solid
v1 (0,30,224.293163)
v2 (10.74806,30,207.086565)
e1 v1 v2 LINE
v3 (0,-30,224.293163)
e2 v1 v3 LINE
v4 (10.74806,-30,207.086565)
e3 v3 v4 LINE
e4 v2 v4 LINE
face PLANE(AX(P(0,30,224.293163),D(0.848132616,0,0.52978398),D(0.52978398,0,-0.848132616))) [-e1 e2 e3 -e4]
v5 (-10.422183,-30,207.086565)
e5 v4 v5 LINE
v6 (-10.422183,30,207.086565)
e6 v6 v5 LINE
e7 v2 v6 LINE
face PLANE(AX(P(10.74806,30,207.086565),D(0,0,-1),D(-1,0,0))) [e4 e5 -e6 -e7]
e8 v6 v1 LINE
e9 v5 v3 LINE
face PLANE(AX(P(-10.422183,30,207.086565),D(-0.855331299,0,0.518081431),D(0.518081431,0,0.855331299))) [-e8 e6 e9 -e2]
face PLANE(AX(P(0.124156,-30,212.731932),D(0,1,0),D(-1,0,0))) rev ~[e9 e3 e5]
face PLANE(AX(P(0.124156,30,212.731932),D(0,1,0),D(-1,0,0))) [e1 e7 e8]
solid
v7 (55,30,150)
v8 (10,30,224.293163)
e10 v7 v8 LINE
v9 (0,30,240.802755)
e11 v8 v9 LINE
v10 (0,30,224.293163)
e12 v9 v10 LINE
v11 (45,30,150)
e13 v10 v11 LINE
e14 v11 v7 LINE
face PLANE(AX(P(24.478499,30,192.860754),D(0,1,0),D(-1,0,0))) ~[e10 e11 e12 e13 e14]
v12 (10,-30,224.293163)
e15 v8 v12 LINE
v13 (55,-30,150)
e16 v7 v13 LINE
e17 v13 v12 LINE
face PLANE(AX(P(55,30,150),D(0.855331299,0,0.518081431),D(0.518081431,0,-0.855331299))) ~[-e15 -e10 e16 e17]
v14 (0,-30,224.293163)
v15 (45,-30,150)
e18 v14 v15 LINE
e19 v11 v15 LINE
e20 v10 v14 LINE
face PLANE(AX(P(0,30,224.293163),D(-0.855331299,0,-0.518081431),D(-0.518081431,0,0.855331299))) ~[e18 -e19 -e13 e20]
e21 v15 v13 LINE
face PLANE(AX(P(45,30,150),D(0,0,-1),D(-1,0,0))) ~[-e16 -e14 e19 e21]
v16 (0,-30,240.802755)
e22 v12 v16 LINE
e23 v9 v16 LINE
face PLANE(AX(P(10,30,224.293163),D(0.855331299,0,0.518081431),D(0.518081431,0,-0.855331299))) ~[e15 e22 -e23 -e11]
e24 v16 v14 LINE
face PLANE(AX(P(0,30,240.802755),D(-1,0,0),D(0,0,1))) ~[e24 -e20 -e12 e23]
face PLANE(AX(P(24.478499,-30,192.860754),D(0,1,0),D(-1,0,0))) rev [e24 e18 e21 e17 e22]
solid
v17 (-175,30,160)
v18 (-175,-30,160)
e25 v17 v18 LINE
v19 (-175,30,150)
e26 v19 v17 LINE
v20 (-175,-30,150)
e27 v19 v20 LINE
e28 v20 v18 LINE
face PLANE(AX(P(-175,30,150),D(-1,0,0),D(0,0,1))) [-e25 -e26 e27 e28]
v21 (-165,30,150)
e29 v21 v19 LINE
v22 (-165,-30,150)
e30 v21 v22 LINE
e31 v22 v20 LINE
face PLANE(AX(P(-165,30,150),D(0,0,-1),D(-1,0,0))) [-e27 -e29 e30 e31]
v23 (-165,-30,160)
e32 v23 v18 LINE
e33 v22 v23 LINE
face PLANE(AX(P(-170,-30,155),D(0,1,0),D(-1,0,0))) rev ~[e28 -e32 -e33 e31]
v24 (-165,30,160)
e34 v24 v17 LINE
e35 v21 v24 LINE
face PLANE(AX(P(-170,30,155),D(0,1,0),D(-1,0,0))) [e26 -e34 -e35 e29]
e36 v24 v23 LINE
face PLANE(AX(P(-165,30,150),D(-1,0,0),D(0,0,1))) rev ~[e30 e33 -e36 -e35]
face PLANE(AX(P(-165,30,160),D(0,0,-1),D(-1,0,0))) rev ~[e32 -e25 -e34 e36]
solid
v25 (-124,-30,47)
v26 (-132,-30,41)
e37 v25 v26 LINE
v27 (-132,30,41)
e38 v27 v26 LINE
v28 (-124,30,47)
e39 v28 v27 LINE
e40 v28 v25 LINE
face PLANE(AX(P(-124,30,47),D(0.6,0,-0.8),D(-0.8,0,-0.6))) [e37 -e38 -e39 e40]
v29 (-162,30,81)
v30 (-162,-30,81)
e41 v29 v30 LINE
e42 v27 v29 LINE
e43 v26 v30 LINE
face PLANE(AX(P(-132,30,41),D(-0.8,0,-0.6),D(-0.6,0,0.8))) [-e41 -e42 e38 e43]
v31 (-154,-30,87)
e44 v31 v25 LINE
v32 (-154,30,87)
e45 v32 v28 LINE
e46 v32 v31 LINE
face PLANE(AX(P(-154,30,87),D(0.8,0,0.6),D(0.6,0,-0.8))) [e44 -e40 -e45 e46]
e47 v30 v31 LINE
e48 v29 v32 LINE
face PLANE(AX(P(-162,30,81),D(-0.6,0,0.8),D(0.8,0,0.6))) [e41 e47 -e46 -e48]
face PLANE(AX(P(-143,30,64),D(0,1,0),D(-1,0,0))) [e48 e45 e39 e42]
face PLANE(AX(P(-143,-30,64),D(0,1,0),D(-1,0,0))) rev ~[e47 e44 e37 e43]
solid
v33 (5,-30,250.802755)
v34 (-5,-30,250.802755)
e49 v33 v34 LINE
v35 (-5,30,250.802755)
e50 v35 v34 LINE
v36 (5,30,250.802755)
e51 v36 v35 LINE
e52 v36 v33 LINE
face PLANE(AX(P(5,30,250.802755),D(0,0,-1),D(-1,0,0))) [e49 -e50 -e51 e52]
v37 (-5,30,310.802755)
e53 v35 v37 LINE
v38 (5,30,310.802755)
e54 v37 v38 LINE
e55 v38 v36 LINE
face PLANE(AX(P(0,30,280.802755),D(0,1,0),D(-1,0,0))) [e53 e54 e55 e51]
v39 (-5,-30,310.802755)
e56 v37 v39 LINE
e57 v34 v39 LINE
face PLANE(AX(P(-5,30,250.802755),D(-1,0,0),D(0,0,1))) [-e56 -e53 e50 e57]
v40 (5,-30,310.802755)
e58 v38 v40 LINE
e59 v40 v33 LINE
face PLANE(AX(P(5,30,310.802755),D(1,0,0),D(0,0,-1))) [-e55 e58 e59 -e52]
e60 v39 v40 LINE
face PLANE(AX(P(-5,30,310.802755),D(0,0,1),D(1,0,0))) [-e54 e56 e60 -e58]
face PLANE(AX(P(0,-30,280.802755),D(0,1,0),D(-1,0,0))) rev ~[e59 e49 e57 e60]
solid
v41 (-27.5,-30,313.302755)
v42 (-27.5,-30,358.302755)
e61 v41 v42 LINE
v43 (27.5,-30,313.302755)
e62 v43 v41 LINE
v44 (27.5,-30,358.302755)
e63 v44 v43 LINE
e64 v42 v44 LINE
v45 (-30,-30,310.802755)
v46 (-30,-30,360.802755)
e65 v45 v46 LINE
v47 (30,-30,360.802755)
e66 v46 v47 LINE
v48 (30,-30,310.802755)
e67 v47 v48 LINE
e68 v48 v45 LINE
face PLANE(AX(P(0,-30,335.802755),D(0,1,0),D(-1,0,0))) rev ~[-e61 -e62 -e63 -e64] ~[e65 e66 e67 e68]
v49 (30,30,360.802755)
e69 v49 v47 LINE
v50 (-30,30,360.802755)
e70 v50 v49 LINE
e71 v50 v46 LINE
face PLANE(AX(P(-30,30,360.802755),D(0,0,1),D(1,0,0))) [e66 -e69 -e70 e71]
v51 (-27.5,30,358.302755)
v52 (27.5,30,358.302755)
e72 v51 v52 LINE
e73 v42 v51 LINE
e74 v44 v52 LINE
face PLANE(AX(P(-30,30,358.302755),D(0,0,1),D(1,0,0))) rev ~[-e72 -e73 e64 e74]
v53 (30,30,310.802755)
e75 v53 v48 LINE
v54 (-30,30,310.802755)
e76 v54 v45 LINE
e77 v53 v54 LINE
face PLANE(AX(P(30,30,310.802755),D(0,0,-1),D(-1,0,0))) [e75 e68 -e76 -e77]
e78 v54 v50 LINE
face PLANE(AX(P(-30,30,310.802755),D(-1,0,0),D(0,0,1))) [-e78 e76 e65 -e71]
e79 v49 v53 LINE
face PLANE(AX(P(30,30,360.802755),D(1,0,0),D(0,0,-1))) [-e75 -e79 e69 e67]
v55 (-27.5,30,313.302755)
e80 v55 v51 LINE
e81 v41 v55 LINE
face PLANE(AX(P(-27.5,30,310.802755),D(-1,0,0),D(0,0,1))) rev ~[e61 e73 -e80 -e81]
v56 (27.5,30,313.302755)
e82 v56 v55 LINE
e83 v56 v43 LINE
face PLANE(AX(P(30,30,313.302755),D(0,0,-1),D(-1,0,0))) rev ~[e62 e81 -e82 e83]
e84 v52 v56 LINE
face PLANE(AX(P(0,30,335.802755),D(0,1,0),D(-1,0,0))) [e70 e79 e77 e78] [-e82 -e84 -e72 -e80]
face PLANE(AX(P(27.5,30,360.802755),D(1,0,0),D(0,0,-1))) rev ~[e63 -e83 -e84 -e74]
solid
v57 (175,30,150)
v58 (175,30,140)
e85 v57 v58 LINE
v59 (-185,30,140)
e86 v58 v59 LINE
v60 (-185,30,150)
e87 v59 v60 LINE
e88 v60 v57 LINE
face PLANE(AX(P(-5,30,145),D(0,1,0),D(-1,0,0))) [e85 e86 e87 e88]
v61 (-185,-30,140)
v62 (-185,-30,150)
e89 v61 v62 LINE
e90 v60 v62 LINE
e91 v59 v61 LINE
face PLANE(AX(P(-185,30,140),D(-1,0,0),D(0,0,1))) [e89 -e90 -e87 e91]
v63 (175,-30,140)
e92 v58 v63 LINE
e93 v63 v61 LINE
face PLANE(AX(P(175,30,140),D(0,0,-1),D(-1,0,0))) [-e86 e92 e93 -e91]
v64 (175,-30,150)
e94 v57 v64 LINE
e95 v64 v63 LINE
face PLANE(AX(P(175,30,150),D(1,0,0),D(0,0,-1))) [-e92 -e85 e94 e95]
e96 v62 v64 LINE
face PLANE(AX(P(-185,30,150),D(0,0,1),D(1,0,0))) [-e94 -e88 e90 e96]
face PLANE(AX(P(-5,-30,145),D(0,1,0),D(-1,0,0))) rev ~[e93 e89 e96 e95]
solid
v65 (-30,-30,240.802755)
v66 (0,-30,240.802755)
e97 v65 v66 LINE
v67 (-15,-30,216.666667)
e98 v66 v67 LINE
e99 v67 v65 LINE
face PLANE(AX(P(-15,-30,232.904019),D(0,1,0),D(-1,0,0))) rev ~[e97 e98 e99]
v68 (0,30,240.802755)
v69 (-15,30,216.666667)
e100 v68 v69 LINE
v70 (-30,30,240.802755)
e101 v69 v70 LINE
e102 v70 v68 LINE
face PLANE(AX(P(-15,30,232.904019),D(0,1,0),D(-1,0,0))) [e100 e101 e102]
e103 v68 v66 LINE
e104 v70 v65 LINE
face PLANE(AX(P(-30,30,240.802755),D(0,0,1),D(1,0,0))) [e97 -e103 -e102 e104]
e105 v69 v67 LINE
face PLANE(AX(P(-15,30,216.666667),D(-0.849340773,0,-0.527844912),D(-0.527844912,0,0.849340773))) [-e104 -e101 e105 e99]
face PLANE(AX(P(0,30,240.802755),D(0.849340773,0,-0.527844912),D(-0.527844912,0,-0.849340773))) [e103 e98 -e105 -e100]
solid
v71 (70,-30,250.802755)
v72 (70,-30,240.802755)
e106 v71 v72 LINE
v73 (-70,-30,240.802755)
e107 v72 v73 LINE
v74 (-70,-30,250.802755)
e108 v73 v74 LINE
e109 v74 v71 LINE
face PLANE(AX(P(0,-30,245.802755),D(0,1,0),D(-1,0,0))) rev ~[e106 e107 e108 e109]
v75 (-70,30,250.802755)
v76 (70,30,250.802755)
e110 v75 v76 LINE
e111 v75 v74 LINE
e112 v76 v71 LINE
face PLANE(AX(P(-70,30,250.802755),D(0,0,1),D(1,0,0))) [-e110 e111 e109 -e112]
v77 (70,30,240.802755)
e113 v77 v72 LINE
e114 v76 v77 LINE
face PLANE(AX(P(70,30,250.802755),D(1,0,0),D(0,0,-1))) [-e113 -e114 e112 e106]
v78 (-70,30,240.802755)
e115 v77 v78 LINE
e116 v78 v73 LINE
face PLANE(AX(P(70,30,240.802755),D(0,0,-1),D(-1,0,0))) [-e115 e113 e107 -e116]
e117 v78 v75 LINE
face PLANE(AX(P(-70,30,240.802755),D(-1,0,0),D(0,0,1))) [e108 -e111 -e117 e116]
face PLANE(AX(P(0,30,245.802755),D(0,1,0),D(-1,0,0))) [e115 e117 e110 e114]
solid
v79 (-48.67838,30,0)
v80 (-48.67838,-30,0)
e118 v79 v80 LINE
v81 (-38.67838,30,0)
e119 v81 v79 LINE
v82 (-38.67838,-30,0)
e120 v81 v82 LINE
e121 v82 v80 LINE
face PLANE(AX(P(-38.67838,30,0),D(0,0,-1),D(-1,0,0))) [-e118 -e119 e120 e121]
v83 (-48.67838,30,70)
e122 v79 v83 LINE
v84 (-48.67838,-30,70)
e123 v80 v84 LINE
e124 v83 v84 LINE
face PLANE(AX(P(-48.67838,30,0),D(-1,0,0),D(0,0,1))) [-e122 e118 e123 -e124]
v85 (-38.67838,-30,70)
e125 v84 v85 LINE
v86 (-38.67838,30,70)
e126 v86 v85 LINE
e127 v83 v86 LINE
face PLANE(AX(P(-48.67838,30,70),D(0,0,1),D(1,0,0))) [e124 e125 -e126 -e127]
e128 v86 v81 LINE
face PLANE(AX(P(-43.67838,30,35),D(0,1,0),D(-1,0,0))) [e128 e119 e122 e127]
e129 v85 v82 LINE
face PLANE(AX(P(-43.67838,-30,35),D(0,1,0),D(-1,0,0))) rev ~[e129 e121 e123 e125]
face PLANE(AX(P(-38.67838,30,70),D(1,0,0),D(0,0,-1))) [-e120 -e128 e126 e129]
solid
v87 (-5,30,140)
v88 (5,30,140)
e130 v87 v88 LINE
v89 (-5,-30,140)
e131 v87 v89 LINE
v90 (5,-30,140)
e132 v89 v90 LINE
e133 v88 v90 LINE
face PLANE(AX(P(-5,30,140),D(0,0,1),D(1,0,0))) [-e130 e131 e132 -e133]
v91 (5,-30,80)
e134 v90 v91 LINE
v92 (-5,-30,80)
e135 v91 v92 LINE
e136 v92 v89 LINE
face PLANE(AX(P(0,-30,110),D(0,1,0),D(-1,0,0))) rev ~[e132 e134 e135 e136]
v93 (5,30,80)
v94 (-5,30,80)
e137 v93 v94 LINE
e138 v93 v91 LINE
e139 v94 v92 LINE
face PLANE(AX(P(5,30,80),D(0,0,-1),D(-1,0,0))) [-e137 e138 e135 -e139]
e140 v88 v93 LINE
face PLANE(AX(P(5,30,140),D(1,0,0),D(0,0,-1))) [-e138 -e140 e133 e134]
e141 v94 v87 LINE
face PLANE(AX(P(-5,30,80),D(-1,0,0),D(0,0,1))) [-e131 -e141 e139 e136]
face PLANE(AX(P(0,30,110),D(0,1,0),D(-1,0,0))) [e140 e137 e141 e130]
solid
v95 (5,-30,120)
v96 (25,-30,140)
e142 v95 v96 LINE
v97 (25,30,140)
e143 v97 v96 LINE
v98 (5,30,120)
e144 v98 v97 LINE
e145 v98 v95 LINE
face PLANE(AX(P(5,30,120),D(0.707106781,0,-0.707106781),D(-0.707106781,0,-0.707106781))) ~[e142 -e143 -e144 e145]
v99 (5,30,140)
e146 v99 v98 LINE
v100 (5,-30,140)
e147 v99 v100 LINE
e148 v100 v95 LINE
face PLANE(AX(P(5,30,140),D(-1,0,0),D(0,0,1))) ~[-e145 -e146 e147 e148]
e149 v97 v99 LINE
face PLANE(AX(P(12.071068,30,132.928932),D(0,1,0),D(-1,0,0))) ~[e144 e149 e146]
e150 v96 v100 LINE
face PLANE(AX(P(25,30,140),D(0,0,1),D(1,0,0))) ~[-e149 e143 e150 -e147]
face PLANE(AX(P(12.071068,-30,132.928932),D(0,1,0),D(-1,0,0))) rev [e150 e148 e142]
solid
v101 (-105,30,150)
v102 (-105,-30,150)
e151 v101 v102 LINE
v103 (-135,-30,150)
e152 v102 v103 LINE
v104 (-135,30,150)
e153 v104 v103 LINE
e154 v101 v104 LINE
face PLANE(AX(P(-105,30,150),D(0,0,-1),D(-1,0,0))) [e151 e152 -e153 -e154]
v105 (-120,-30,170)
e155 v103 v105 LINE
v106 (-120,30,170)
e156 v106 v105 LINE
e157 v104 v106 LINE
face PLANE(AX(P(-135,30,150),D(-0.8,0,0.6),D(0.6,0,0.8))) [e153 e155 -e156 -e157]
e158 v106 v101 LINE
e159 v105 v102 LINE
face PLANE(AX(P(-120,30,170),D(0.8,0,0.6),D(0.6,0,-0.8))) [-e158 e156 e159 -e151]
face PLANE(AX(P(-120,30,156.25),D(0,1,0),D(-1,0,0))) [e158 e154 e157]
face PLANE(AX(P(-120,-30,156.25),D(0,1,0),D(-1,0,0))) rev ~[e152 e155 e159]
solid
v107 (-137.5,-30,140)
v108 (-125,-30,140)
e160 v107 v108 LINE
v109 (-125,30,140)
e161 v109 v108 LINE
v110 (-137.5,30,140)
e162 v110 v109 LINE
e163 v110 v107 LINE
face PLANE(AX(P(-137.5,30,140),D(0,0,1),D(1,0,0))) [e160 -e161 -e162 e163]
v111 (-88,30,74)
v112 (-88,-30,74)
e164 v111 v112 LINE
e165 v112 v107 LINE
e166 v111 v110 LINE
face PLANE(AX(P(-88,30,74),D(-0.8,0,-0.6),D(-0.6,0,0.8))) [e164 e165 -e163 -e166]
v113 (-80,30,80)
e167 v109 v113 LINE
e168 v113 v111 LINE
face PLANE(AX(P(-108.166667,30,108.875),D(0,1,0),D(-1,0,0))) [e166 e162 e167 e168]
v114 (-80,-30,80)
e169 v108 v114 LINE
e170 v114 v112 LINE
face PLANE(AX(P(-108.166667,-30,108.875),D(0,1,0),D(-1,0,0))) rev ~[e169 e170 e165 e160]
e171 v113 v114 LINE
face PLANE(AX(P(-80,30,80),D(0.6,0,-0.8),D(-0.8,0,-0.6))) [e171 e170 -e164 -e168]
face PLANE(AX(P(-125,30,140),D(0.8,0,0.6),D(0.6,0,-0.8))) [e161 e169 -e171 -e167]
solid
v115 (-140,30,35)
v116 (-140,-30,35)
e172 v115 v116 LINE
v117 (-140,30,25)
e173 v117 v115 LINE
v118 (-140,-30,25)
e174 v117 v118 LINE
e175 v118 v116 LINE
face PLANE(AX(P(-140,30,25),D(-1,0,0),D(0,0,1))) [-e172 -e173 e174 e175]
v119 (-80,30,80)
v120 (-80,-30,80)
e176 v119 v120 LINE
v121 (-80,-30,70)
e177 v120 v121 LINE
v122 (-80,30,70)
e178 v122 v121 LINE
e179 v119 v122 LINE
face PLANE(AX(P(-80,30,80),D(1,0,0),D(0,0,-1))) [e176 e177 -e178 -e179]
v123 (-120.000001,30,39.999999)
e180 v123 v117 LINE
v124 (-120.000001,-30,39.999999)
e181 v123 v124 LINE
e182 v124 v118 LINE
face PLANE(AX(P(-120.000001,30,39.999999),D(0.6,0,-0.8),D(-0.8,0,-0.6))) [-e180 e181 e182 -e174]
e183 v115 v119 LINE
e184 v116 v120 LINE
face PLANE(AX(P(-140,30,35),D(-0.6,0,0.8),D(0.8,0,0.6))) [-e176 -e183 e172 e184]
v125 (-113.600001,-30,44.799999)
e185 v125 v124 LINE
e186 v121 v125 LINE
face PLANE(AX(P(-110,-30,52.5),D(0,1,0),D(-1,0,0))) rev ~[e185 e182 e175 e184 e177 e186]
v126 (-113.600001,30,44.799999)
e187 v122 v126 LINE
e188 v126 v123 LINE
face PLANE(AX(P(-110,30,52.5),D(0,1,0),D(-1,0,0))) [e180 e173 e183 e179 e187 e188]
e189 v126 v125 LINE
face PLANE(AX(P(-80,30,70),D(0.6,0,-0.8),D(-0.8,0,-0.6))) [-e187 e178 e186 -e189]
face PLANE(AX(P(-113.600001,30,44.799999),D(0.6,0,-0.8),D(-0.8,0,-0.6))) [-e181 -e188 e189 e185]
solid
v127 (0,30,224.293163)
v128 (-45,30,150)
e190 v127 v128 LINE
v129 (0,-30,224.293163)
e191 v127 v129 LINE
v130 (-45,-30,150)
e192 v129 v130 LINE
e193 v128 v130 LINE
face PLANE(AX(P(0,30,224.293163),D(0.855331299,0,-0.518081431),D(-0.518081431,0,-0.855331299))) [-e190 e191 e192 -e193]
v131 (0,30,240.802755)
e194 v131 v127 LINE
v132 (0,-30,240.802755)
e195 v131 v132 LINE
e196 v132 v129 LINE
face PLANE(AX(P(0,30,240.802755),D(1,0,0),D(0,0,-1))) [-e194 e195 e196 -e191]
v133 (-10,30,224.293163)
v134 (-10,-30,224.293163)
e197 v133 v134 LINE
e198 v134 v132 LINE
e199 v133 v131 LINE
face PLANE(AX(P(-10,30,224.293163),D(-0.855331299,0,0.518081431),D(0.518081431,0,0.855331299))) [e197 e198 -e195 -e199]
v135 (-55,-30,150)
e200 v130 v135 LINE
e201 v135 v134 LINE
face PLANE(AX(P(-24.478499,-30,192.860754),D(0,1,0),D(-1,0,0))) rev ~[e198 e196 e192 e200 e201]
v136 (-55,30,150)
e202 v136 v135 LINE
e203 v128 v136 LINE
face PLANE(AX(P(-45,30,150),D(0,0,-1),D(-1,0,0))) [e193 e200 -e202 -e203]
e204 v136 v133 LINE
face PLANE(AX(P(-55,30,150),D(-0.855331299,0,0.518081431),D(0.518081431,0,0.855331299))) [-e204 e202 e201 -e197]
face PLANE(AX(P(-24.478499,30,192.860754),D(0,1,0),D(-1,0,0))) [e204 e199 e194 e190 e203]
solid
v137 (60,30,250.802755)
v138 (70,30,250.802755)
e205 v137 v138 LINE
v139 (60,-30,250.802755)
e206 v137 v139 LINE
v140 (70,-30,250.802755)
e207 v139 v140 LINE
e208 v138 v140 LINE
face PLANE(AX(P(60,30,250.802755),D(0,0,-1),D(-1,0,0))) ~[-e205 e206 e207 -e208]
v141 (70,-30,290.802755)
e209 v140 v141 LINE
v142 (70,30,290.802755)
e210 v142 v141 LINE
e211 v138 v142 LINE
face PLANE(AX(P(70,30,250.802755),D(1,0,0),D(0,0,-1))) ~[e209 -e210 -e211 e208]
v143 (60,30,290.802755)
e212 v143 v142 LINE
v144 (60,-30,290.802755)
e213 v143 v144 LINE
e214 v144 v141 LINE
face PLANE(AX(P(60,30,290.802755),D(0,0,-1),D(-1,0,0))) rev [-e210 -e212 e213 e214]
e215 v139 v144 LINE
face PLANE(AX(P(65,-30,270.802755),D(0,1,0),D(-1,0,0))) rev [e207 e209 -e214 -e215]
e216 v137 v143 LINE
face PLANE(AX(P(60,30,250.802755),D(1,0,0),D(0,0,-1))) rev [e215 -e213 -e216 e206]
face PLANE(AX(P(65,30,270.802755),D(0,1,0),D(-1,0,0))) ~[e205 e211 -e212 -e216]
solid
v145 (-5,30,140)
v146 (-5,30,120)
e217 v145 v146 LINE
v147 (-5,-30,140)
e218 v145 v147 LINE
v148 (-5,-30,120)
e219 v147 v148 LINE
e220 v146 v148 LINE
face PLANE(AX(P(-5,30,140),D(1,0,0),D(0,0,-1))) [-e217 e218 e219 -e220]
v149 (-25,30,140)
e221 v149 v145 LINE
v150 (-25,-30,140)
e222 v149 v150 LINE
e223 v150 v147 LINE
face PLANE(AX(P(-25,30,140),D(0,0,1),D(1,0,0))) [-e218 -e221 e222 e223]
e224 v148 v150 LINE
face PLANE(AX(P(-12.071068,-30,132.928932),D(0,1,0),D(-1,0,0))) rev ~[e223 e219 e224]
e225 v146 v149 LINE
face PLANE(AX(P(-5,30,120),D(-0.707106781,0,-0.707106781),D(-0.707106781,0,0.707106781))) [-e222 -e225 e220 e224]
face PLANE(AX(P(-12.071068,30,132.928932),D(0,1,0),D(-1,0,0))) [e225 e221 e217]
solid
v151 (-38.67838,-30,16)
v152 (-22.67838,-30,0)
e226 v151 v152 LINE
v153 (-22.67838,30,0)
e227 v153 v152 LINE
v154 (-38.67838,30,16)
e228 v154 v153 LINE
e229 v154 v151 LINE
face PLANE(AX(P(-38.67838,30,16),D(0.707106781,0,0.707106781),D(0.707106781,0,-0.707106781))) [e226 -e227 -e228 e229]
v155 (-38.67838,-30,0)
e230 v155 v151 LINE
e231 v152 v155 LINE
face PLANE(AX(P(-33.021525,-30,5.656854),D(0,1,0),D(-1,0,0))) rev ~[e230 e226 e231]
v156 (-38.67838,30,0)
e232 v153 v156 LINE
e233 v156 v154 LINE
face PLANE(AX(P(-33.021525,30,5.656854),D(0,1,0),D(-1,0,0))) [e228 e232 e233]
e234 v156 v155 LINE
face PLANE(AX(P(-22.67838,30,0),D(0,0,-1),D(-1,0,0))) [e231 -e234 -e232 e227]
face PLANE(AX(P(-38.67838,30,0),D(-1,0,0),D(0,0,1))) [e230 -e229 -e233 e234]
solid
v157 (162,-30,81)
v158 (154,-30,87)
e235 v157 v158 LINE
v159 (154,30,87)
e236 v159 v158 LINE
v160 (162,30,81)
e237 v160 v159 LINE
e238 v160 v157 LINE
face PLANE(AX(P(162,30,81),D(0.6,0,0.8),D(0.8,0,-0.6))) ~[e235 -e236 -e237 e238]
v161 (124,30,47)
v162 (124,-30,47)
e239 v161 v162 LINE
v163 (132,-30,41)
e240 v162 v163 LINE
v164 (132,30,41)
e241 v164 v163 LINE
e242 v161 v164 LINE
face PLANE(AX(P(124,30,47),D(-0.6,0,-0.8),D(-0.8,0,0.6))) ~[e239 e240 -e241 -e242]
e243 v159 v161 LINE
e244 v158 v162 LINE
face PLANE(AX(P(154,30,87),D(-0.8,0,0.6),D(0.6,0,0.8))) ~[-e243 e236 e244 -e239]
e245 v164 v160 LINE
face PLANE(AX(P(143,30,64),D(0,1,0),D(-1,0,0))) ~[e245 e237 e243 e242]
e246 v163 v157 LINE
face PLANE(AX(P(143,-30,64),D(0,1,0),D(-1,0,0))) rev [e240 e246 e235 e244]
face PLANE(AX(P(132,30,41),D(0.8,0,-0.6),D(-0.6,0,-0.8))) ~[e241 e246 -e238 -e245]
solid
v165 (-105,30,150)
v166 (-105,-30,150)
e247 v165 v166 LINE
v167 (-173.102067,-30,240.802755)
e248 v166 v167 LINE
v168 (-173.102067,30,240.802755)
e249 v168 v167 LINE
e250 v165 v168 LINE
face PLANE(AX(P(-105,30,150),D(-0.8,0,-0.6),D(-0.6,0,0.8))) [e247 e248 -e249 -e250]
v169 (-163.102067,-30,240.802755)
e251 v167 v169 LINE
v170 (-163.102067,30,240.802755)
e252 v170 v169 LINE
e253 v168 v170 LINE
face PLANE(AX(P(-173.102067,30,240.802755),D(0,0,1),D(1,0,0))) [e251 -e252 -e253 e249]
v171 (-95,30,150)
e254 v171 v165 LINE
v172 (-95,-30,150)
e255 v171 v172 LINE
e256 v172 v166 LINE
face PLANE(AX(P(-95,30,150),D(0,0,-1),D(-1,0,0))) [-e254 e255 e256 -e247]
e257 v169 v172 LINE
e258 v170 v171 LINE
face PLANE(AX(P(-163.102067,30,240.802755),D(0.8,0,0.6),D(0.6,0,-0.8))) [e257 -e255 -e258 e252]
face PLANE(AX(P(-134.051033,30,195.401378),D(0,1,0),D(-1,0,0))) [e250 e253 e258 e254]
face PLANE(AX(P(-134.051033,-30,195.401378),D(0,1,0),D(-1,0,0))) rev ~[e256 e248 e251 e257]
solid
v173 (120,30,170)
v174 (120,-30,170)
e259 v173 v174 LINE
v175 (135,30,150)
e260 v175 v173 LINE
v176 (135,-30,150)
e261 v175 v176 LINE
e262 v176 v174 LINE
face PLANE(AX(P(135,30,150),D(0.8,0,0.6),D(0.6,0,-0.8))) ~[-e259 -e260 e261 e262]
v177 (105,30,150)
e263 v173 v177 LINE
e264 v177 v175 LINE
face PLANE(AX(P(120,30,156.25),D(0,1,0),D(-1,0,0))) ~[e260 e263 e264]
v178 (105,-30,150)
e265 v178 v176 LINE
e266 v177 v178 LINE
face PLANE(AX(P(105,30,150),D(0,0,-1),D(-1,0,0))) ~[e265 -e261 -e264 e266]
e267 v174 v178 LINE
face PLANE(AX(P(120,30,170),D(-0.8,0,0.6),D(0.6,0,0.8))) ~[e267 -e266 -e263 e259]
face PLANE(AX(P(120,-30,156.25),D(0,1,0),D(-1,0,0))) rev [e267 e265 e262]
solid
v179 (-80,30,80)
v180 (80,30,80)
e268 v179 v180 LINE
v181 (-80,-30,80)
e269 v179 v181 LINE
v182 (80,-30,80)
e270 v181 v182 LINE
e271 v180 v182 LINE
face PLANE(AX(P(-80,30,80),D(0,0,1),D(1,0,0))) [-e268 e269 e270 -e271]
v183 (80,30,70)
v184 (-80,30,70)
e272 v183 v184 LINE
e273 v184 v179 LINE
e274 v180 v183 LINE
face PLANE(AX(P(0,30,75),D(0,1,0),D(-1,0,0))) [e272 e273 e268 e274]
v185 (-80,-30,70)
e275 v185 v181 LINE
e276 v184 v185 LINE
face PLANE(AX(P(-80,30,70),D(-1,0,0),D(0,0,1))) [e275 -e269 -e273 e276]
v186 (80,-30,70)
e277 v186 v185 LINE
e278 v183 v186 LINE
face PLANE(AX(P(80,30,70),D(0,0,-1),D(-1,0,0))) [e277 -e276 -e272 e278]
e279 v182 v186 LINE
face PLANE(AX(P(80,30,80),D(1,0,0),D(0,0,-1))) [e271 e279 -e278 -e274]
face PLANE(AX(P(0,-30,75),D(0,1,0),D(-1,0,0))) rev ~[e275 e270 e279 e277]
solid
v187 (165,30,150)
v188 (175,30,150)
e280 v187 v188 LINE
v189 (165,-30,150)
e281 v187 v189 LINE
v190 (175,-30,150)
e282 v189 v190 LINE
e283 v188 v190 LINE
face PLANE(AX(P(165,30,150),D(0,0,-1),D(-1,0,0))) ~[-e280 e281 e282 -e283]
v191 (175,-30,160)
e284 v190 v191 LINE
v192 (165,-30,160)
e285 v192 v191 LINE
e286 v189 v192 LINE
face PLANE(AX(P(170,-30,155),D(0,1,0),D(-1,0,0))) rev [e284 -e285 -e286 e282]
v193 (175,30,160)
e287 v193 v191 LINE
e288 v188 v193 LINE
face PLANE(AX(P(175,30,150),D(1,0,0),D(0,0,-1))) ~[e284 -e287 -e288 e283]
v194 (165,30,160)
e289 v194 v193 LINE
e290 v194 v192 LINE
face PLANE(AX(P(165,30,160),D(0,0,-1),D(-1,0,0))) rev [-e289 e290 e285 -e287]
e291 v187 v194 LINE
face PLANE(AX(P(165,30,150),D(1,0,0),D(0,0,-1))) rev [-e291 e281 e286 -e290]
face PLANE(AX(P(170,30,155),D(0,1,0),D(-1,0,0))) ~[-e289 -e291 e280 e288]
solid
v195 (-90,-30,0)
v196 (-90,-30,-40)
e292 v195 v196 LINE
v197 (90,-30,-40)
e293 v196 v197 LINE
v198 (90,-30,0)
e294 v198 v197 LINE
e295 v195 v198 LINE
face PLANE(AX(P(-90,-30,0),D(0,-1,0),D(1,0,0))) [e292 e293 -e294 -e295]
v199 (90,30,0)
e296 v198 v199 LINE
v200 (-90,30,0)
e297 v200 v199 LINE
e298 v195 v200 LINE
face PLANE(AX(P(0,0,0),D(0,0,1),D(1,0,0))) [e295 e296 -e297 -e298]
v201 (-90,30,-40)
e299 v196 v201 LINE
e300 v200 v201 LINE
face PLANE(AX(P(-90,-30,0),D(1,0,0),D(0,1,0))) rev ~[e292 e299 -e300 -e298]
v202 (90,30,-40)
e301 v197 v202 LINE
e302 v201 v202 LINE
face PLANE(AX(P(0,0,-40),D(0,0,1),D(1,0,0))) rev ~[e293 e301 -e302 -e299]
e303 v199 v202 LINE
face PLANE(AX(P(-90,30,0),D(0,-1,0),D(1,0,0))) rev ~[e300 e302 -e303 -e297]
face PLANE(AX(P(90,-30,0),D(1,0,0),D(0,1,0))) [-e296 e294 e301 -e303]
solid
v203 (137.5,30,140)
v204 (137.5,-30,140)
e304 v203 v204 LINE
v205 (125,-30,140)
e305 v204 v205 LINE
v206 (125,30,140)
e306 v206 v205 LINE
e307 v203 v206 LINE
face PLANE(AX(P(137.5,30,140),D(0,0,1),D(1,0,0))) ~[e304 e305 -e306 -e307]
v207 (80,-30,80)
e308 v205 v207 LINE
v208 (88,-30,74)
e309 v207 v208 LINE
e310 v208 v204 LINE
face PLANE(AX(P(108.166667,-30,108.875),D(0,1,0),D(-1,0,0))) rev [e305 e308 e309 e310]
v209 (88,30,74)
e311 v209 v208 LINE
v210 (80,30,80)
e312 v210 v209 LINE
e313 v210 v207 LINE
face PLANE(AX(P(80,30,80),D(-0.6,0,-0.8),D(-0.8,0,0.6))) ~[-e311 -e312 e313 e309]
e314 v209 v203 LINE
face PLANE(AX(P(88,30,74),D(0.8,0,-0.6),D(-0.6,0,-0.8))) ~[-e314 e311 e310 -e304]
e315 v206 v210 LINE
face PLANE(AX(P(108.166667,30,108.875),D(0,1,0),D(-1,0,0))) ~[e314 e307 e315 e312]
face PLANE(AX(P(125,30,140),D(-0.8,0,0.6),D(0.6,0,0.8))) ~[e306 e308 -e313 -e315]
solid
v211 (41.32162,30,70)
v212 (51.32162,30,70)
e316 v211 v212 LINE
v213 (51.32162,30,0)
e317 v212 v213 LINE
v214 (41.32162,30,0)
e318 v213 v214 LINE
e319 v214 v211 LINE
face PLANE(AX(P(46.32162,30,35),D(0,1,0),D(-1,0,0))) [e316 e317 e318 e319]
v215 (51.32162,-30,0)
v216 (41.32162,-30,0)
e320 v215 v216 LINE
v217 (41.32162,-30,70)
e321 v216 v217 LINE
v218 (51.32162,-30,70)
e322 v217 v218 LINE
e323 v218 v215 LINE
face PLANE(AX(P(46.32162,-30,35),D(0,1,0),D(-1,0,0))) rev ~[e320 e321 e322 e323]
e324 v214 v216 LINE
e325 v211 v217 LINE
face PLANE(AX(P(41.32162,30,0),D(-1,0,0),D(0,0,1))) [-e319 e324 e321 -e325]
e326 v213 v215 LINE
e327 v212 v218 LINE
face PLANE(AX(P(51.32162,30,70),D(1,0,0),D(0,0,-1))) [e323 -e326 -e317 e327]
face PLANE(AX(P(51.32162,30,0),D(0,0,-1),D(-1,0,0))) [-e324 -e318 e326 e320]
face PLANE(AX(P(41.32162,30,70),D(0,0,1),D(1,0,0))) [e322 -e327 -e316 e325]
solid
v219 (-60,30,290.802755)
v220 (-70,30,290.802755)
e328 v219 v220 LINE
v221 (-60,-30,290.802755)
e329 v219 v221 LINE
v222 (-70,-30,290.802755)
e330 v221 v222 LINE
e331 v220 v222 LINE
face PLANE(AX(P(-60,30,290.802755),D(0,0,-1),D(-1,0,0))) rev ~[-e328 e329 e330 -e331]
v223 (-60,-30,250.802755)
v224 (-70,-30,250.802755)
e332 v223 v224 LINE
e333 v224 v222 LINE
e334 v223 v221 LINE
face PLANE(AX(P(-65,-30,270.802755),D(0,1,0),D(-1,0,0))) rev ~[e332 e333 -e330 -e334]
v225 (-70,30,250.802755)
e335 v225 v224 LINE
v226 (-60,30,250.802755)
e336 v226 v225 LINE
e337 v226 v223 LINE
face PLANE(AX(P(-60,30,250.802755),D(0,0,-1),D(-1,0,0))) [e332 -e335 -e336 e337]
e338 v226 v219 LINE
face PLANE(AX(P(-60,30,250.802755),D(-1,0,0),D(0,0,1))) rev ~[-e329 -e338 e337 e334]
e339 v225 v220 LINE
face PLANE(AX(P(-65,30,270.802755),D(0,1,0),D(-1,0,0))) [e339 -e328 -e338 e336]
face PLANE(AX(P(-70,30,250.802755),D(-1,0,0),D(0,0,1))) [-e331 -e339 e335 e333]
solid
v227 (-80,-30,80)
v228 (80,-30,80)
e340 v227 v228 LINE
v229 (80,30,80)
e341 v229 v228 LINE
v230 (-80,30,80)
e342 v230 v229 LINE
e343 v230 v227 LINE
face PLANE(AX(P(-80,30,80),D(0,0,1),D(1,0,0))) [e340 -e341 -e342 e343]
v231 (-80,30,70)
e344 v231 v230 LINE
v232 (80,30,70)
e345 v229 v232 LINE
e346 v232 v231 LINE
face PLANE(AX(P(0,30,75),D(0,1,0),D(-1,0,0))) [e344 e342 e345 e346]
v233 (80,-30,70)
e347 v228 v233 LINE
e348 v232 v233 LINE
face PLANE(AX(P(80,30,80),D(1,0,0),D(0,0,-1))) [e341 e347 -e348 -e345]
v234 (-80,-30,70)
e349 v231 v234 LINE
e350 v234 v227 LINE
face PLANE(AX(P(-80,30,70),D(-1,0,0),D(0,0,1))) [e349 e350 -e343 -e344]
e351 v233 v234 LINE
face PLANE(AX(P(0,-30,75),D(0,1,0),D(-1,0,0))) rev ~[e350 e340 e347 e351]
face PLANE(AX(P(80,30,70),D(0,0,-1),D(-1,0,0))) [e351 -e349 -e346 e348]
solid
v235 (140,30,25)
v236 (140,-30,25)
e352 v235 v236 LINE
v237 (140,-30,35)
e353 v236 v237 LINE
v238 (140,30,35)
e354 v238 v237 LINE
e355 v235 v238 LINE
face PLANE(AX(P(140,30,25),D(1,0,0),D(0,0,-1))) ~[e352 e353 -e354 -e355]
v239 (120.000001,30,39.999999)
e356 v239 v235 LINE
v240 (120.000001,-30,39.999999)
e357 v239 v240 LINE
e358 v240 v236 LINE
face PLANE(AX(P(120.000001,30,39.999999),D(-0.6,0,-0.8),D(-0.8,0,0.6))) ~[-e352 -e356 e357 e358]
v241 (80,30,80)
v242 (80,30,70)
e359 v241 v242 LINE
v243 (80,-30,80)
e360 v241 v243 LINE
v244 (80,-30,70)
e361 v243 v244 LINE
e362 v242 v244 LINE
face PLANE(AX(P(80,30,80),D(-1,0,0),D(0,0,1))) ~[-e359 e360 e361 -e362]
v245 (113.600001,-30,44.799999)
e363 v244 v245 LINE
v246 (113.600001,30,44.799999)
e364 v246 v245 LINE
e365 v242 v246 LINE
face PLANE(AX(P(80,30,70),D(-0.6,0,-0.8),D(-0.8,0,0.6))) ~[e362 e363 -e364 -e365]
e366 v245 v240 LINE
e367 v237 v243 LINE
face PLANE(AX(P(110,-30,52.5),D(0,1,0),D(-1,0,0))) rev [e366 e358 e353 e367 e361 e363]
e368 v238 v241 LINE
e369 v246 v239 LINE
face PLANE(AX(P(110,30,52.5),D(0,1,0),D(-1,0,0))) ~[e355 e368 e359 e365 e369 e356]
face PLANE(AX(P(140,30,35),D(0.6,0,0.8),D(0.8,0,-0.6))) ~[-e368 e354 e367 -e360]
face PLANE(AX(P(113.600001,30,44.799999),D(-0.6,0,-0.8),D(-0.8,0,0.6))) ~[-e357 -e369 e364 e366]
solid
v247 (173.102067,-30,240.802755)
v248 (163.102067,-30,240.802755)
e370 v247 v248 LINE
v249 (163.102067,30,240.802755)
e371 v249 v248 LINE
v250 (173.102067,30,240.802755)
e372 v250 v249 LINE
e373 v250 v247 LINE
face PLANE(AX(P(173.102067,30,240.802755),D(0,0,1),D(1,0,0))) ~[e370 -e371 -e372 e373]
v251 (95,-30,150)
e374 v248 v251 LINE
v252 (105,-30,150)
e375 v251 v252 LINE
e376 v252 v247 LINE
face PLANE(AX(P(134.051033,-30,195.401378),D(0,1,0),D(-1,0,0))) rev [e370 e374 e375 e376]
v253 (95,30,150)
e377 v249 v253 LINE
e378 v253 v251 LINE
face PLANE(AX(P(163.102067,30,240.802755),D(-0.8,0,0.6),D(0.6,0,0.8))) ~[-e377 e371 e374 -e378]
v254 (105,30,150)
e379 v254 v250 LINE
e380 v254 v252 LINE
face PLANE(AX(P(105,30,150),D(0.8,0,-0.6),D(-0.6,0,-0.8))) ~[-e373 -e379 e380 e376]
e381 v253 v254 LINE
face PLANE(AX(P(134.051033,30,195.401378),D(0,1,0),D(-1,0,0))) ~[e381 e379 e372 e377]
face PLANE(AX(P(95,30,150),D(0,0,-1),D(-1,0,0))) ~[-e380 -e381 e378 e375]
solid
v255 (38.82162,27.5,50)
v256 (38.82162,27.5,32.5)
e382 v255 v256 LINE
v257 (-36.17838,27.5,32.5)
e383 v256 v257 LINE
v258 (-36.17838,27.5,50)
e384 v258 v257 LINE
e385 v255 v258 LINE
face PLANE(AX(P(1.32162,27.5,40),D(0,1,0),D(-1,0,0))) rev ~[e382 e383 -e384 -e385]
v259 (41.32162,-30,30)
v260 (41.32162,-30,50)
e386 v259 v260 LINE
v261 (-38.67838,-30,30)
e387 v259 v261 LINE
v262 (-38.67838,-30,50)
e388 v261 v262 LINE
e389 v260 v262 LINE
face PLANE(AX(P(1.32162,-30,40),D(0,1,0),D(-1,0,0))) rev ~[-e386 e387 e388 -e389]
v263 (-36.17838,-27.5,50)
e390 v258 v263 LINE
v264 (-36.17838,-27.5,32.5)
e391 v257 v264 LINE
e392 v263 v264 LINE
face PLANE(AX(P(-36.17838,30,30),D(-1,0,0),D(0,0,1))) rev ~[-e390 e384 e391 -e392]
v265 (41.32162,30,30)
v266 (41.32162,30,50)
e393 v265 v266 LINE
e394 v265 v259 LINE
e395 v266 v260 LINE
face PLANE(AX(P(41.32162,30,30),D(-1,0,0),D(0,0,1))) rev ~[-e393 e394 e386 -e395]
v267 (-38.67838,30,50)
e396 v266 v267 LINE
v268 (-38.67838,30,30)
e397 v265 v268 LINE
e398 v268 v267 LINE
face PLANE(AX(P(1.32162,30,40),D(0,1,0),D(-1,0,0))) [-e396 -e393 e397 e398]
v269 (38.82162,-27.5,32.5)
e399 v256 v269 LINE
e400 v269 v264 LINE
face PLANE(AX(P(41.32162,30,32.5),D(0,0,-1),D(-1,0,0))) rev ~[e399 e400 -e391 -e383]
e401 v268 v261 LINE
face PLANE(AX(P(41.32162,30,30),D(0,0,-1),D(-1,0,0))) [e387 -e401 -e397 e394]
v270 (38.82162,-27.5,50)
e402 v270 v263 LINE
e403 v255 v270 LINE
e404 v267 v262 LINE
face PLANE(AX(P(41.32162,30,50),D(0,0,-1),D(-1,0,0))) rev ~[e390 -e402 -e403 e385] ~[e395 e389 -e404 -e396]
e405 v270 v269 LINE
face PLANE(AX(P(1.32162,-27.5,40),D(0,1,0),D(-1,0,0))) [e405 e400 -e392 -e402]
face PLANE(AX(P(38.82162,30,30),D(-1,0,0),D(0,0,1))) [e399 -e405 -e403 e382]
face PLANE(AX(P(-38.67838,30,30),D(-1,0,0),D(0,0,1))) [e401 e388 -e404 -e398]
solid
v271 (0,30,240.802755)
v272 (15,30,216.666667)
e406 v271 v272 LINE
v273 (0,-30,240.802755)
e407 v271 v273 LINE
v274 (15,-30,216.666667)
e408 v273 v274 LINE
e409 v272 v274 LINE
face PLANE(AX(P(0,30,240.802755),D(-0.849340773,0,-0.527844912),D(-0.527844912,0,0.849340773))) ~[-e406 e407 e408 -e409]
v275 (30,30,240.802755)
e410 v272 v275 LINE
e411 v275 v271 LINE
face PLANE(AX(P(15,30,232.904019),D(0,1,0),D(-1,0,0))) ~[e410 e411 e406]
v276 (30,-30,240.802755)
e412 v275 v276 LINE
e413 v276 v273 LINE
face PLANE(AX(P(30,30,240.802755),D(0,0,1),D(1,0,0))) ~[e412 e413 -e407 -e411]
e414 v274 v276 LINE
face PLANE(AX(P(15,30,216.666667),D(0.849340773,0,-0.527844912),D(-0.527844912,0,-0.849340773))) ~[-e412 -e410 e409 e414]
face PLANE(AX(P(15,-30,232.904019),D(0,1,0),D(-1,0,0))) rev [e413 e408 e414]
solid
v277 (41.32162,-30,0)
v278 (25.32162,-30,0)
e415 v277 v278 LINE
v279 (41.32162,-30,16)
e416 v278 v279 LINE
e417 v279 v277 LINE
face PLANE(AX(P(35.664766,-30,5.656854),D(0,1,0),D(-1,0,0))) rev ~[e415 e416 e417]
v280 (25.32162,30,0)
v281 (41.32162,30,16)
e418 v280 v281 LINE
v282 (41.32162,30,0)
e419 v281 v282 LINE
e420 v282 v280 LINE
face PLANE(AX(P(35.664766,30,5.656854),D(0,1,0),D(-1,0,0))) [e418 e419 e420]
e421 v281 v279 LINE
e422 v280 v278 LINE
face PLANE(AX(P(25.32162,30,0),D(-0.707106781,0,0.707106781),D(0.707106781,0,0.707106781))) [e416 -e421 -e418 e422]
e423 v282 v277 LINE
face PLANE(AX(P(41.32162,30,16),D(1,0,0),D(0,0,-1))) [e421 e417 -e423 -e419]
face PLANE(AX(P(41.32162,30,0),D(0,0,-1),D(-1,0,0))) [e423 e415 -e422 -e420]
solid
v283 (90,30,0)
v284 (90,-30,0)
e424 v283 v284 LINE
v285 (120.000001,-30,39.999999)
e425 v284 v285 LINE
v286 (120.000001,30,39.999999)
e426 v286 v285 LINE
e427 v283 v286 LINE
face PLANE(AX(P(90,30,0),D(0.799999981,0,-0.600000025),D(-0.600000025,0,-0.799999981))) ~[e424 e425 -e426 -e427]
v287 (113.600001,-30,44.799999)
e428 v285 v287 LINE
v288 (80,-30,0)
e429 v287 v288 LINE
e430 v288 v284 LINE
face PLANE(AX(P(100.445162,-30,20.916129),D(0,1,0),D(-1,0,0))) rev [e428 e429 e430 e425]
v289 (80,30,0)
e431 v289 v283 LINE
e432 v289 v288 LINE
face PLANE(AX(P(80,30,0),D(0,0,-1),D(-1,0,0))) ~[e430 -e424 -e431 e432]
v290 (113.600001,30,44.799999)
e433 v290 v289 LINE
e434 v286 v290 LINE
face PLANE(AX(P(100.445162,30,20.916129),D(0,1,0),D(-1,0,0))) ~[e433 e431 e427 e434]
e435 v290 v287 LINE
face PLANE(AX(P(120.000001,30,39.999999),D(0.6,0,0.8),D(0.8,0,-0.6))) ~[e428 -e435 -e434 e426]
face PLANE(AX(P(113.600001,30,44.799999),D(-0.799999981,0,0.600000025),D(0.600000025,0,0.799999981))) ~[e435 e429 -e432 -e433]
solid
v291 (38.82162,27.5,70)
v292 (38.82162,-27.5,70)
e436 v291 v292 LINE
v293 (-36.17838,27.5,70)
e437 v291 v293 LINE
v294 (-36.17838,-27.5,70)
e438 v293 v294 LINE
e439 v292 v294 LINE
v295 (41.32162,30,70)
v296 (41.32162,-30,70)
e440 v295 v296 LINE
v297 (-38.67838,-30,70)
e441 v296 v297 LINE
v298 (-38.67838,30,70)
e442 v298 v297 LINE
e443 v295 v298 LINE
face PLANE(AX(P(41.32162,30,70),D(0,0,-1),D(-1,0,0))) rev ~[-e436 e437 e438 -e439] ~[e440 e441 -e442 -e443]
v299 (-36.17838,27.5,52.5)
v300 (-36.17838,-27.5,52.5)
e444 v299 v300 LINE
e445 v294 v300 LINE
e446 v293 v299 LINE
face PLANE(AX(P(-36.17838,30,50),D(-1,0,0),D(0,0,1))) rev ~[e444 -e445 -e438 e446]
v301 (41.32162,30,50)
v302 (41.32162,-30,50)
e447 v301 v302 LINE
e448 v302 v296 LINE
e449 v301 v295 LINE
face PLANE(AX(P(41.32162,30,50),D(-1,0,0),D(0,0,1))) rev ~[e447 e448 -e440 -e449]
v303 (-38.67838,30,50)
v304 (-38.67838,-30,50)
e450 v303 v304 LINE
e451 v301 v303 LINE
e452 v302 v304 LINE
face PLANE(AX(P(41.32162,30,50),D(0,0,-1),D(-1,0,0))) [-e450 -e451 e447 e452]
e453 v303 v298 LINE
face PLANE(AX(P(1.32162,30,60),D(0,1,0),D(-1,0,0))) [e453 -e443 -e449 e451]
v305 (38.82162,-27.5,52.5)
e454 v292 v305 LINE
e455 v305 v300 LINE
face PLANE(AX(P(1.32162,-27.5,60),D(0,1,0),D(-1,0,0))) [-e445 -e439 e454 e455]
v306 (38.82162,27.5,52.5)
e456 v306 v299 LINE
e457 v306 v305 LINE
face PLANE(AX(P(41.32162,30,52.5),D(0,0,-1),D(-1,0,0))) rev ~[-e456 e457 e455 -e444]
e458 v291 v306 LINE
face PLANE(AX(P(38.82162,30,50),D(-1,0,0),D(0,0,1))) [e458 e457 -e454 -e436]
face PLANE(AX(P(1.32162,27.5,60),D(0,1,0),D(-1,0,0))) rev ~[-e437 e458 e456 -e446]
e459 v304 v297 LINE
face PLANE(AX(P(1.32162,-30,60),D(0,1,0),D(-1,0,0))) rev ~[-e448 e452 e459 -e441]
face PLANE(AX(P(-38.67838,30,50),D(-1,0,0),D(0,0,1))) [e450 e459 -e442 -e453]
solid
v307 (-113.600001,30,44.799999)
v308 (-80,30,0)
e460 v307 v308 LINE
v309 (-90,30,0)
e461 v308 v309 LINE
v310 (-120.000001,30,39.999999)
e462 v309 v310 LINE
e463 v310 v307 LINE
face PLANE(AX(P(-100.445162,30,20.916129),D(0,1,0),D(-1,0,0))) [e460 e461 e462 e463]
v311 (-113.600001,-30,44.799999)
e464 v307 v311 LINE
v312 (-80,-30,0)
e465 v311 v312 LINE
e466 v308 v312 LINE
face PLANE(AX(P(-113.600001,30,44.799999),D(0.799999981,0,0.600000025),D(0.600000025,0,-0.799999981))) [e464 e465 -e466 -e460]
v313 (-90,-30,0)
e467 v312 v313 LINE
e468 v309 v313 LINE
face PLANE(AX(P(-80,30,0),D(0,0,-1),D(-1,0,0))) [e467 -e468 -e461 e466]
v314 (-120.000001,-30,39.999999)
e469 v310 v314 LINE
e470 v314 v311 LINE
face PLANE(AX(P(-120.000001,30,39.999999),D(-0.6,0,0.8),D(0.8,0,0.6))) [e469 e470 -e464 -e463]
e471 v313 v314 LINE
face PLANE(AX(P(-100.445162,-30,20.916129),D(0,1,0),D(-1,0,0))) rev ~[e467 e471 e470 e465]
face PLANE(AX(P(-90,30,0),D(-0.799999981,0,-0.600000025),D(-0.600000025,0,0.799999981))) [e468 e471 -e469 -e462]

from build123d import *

# Parameters (mm, degrees)
F0_W      = 180
F0_H      = 60
F1_DEPTH  = 40
F3_DEPTH  = 60
F2_W      = 10
F2_H      = 10
F2_W_2    = 80
F2_H_2    = 20
F5_DEPTH  = 60
F6_T      = -2.5
F7_DEPTH  = 60
F8_T      = -2.5
F9_DEPTH  = 60
F10_DEPTH = 60
F11_DEPTH = 60
F12_DEPTH = 60
F2_H_3    = 40
F14_DEPTH = 60
F15_T     = -2.5


with BuildPart() as f1:
    # F0 (on Top) → F1 (new body)
    with BuildSketch(Plane.XY):
        Rectangle(F0_W, F0_H)
    extrude(amount=-F1_DEPTH)


with BuildPart() as f3:
    # F2 (on face) → F3 (new body)
    with BuildSketch(Plane(origin=(0, 30, 0), x_dir=(-1, 0, 0), z_dir=(0, 1, 0))):
        Polygon((80, 0), (90, 0), (120.0000012588, 39.9999990559), (113.6000014098, 44.7999989426), align=None)
    extrude(amount=-F3_DEPTH)


with BuildPart() as f3b:
    # F2 (on face) → F3, piece 2 (new body)
    with BuildSketch(Plane(origin=(0, 30, 0), x_dir=(-1, 0, 0), z_dir=(0, 1, 0))):
        Polygon((124, 47), (132, 41), (162, 81), (154, 87), align=None)
    extrude(amount=-F3_DEPTH)


with BuildPart() as f3c:
    # F2 (on face) → F3, piece 3 (new body)
    with BuildSketch(Plane(origin=(0, 30, 0), x_dir=(-1, 0, 0), z_dir=(0, 1, 0))):
        Polygon((125, 140), (80, 80), (88, 74), (137.5, 140), align=None)
    extrude(amount=-F3_DEPTH)


with BuildPart() as f3d:
    # F2 (on face) → F3, piece 4 (new body)
    with BuildSketch(Plane(origin=(0, 30, 0), x_dir=(-1, 0, 0), z_dir=(0, 1, 0))):
        Polygon((5, 140), (5, 120), (25, 140), align=None)
    extrude(amount=-F3_DEPTH)


with BuildPart() as f3e:
    # F2 (on face) → F3, piece 5 (new body)
    with BuildSketch(Plane(origin=(0, 30, 0), x_dir=(-1, 0, 0), z_dir=(0, 1, 0))):
        Polygon((120, 150), (135, 150), (120, 170), (105, 150), align=None)
    extrude(amount=-F3_DEPTH)


with BuildPart() as f3f:
    # F2 (on face) → F3, piece 6 (new body)
    with BuildSketch(Plane(origin=(0, 30, 0), x_dir=(-1, 0, 0), z_dir=(0, 1, 0))):
        with Locations((170, 155)):
            Rectangle(F2_W, F2_H)
    extrude(amount=-F3_DEPTH)


with BuildPart() as f3g:
    # F2 (on face) → F3, piece 7 (new body)
    with BuildSketch(Plane(origin=(0, 30, 0), x_dir=(-1, 0, 0), z_dir=(0, 1, 0))):
        Polygon((10.4221828335, 207.086564962), (45, 150), (55, 150), (10, 224.293163473), (0, 240.8027553558), (0, 224.293163473), align=None)
    extrude(amount=-F3_DEPTH)


with BuildPart() as f4_1:
    # F4: instance of F3
    add(f3.part.mirror(Plane.YZ))


with BuildPart() as f4_2:
    # F4: instance of F3b
    add(f3b.part.mirror(Plane.YZ))


with BuildPart() as f4_3:
    # F4: instance of F3c
    add(f3c.part.mirror(Plane.YZ))


with BuildPart() as f4_4:
    # F4: instance of F3d
    add(f3d.part.mirror(Plane.YZ))


with BuildPart() as f4_5:
    # F4: instance of F3f
    add(f3f.part.mirror(Plane.YZ))


with BuildPart() as f4_6:
    # F4: instance of F3e
    add(f3e.part.mirror(Plane.YZ))


with BuildPart() as f4_7:
    # F4: instance of F3g
    add(f3g.part.mirror(Plane.YZ))


with BuildPart() as f5:
    # F2 (on face) → F5 (new body)
    with BuildSketch(Plane(origin=(0, 30, 0), x_dir=(-1, 0, 0), z_dir=(0, 1, 0))):
        with Locations((-1.3216203451, 40)):
            Rectangle(F2_W_2, F2_H_2)
    extrude(amount=-F5_DEPTH)

    # F6
    f6_openings = [f5.faces().sort_by_distance(p)[0] for p in [
        (1.32162, 0, 50),
    ]]
    offset(amount=F6_T, openings=f6_openings)


with BuildPart() as f7:
    # F2 (on face) → F7 (new body)
    with BuildSketch(Plane(origin=(0, 30, 0), x_dir=(-1, 0, 0), z_dir=(0, 1, 0))):
        with Locations((-1.3216203451, 60)):
            Rectangle(F2_W_2, F2_H_2)
    extrude(amount=-F7_DEPTH)

    # F8
    f8_openings = [f7.faces().sort_by_distance(p)[0] for p in [
        (1.32162, 0, 70),
    ]]
    offset(amount=F8_T, openings=f8_openings)


with BuildPart() as f7b:
    # F2 (on face) → F7, piece 2 (new body)
    with BuildSketch(Plane(origin=(0, 30, 0), x_dir=(-1, 0, 0), z_dir=(0, 1, 0))):
        Polygon((-10.74806, 207.086564962), (10.4221828335, 207.086564962), (0, 224.293163473), align=None)
    extrude(amount=-F7_DEPTH)


with BuildPart() as f9:
    # F2 (on face) → F9 (new body)
    with BuildSketch(Plane(origin=(0, 30, 0), x_dir=(-1, 0, 0), z_dir=(0, 1, 0))):
        Polygon((38.6783796549, 0), (48.6783796549, 0), (48.6783796549, 70), (38.6783796549, 70), (38.6783796549, 50), (38.6783796549, 30), (38.6783796549, 16), align=None)
    extrude(amount=-F9_DEPTH)


with BuildPart() as f9b:
    # F2 (on face) → F9, piece 2 (new body)
    with BuildSketch(Plane(origin=(0, 30, 0), x_dir=(-1, 0, 0), z_dir=(0, 1, 0))):
        Polygon((-51.3216203451, 70), (-51.3216203451, 0), (-41.3216203451, 0), (-41.3216203451, 16), (-41.3216203451, 30), (-41.3216203451, 50), (-41.3216203451, 70), align=None)
    extrude(amount=-F9_DEPTH)


with BuildPart() as f9c:
    # F2 (on face) → F9, piece 3 (new body)
    with BuildSketch(Plane(origin=(0, 30, 0), x_dir=(-1, 0, 0), z_dir=(0, 1, 0))):
        Polygon((-5, 80), (5, 80), (5, 120), (5, 140), (-5, 140), align=None)
    extrude(amount=-F9_DEPTH)


with BuildPart() as f10:
    # F2 (on face) → F10 (new body)
    with BuildSketch(Plane(origin=(0, 30, 0), x_dir=(-1, 0, 0), z_dir=(0, 1, 0))):
        Polygon((-41.3216203451, 0), (-25.3216203451, 0), (-41.3216203451, 16), align=None)
    extrude(amount=-F10_DEPTH)


with BuildPart() as f10b:
    # F2 (on face) → F10, piece 2 (new body)
    with BuildSketch(Plane(origin=(0, 30, 0), x_dir=(-1, 0, 0), z_dir=(0, 1, 0))):
        Polygon((22.6783796549, 0), (38.6783796549, 0), (38.6783796549, 16), align=None)
    extrude(amount=-F10_DEPTH)


with BuildPart() as f10c:
    # F2 (on face) → F10, piece 3 (new body)
    with BuildSketch(Plane(origin=(0, 30, 0), x_dir=(-1, 0, 0), z_dir=(0, 1, 0))):
        Polygon((25, 140), (125, 140), (137.5, 140), (185, 140), (185, 150), (175, 150), (165, 150), (135, 150), (120, 150), (105, 150), (95, 150), (55, 150), (45, 150), (-175, 150), (-175, 140), (-5, 140), (5, 140), align=None)
    extrude(amount=-F10_DEPTH)


with BuildPart() as f10d:
    # F2 (on face) → F10, piece 4 (new body)
    with BuildSketch(Plane(origin=(0, 30, 0), x_dir=(-1, 0, 0), z_dir=(0, 1, 0))):
        Polygon((48.6783796549, 70), (80, 70), (80, 80), (5, 80), (-5, 80), (-80, 80), (-80, 70), (-51.3216203451, 70), (-41.3216203451, 70), (38.6783796549, 70), align=None)
    extrude(amount=-F10_DEPTH)


with BuildPart() as f10e:
    # F2 (on face) → F10, piece 5 (new body)
    with BuildSketch(Plane(origin=(0, 30, 0), x_dir=(-1, 0, 0), z_dir=(0, 1, 0))):
        Polygon((30, 240.8027553558), (0, 240.8027553558), (15, 216.6666666667), align=None)
    extrude(amount=-F10_DEPTH)


with BuildPart() as f11:
    # F2 (on face) → F11 (new body)
    with BuildSketch(Plane(origin=(0, 30, 0), x_dir=(-1, 0, 0), z_dir=(0, 1, 0))):
        Polygon((48.6783796549, 70), (80, 70), (80, 80), (5, 80), (-5, 80), (-80, 80), (-80, 70), (-51.3216203451, 70), (-41.3216203451, 70), (38.6783796549, 70), align=None)
    extrude(amount=-F11_DEPTH)


with BuildPart() as f11b:
    # F2 (on face) → F11, piece 2 (new body)
    with BuildSketch(Plane(origin=(0, 30, 0), x_dir=(-1, 0, 0), z_dir=(0, 1, 0))):
        Polygon((-70, 240.8027553558), (0, 240.8027553558), (30, 240.8027553558), (70, 240.8027553558), (70, 250.8027553558), (60, 250.8027553558), (15, 250.8027553558), (5, 250.8027553558), (0, 250.8027553558), (-5, 250.8027553558), (-70, 250.8027553558), align=None)
    extrude(amount=-F11_DEPTH)


with BuildPart() as f12:
    # F2 (on face) → F12 (new body)
    with BuildSketch(Plane(origin=(0, 30, 0), x_dir=(-1, 0, 0), z_dir=(0, 1, 0))):
        Polygon((113.6000014098, 44.7999989426), (120.0000012588, 39.9999990559), (140, 25), (140, 35), (132, 41), (124, 47), (88, 74), (80, 80), (80, 70), align=None)
    extrude(amount=-F12_DEPTH)


with BuildPart() as f12b:
    # F2 (on face) → F12, piece 2 (new body)
    with BuildSketch(Plane(origin=(0, 30, 0), x_dir=(-1, 0, 0), z_dir=(0, 1, 0))):
        Polygon((163.1020665169, 240.8027553558), (95, 150), (105, 150), (120, 170), (173.1020665169, 240.8027553558), align=None)
    extrude(amount=-F12_DEPTH)


with BuildPart() as f12c:
    # F2 (on face) → F12, piece 3 (new body)
    with BuildSketch(Plane(origin=(0, 30, 0), x_dir=(-1, 0, 0), z_dir=(0, 1, 0))):
        with Locations((65, 270.8027553558)):
            Rectangle(F2_W, F2_H_3)
    extrude(amount=-F12_DEPTH)


with BuildPart() as f12d:
    # F2 (on face) → F12, piece 4 (new body)
    with BuildSketch(Plane(origin=(0, 30, 0), x_dir=(-1, 0, 0), z_dir=(0, 1, 0))):
        Polygon((-5, 310.8027553558), (-5, 250.8027553558), (0, 250.8027553558), (5, 250.8027553558), (5, 310.8027553558), align=None)
    extrude(amount=-F12_DEPTH)


with BuildPart() as f13_1:
    # F13: instance of F12
    add(f12.part.mirror(Plane.YZ))


with BuildPart() as f13_2:
    # F13: instance of F12b
    add(f12b.part.mirror(Plane.YZ))


with BuildPart() as f13_3:
    # F13: instance of F10e
    add(f10e.part.mirror(Plane.YZ))


with BuildPart() as f13_4:
    # F13: instance of F12c
    add(f12c.part.mirror(Plane.YZ))


with BuildPart() as f14:
    # F2 (on face) → F14 (new body)
    with BuildSketch(Plane(origin=(0, 30, 0), x_dir=(-1, 0, 0), z_dir=(0, 1, 0))):
        Polygon((-30, 310.8027553558), (-5, 310.8027553558), (5, 310.8027553558), (30, 310.8027553558), (30, 360.8027553558), (-30, 360.8027553558), align=None)
    extrude(amount=-F14_DEPTH)

    # F15
    f15_openings = [f14.faces().sort_by_distance(p)[0] for p in [
        (0, -30, 335.802755),
        (0, 30, 335.802755),
    ]]
    offset(amount=F15_T, openings=f15_openings)


solid = Compound([f1.part, f3.part, f3b.part, f3c.part, f3d.part, f3e.part, f3f.part, f3g.part, f4_1.part, f4_2.part, f4_3.part, f4_4.part, f4_5.part, f4_6.part, f4_7.part, f5.part, f7.part, f7b.part, f9.part, f9b.part, f9c.part, f10.part, f10b.part, f10c.part, f10d.part, f10e.part, f11.part, f11b.part, f12.part, f12b.part, f12c.part, f12d.part, f13_1.part, f13_2.part, f13_3.part, f13_4.part, f14.part])
